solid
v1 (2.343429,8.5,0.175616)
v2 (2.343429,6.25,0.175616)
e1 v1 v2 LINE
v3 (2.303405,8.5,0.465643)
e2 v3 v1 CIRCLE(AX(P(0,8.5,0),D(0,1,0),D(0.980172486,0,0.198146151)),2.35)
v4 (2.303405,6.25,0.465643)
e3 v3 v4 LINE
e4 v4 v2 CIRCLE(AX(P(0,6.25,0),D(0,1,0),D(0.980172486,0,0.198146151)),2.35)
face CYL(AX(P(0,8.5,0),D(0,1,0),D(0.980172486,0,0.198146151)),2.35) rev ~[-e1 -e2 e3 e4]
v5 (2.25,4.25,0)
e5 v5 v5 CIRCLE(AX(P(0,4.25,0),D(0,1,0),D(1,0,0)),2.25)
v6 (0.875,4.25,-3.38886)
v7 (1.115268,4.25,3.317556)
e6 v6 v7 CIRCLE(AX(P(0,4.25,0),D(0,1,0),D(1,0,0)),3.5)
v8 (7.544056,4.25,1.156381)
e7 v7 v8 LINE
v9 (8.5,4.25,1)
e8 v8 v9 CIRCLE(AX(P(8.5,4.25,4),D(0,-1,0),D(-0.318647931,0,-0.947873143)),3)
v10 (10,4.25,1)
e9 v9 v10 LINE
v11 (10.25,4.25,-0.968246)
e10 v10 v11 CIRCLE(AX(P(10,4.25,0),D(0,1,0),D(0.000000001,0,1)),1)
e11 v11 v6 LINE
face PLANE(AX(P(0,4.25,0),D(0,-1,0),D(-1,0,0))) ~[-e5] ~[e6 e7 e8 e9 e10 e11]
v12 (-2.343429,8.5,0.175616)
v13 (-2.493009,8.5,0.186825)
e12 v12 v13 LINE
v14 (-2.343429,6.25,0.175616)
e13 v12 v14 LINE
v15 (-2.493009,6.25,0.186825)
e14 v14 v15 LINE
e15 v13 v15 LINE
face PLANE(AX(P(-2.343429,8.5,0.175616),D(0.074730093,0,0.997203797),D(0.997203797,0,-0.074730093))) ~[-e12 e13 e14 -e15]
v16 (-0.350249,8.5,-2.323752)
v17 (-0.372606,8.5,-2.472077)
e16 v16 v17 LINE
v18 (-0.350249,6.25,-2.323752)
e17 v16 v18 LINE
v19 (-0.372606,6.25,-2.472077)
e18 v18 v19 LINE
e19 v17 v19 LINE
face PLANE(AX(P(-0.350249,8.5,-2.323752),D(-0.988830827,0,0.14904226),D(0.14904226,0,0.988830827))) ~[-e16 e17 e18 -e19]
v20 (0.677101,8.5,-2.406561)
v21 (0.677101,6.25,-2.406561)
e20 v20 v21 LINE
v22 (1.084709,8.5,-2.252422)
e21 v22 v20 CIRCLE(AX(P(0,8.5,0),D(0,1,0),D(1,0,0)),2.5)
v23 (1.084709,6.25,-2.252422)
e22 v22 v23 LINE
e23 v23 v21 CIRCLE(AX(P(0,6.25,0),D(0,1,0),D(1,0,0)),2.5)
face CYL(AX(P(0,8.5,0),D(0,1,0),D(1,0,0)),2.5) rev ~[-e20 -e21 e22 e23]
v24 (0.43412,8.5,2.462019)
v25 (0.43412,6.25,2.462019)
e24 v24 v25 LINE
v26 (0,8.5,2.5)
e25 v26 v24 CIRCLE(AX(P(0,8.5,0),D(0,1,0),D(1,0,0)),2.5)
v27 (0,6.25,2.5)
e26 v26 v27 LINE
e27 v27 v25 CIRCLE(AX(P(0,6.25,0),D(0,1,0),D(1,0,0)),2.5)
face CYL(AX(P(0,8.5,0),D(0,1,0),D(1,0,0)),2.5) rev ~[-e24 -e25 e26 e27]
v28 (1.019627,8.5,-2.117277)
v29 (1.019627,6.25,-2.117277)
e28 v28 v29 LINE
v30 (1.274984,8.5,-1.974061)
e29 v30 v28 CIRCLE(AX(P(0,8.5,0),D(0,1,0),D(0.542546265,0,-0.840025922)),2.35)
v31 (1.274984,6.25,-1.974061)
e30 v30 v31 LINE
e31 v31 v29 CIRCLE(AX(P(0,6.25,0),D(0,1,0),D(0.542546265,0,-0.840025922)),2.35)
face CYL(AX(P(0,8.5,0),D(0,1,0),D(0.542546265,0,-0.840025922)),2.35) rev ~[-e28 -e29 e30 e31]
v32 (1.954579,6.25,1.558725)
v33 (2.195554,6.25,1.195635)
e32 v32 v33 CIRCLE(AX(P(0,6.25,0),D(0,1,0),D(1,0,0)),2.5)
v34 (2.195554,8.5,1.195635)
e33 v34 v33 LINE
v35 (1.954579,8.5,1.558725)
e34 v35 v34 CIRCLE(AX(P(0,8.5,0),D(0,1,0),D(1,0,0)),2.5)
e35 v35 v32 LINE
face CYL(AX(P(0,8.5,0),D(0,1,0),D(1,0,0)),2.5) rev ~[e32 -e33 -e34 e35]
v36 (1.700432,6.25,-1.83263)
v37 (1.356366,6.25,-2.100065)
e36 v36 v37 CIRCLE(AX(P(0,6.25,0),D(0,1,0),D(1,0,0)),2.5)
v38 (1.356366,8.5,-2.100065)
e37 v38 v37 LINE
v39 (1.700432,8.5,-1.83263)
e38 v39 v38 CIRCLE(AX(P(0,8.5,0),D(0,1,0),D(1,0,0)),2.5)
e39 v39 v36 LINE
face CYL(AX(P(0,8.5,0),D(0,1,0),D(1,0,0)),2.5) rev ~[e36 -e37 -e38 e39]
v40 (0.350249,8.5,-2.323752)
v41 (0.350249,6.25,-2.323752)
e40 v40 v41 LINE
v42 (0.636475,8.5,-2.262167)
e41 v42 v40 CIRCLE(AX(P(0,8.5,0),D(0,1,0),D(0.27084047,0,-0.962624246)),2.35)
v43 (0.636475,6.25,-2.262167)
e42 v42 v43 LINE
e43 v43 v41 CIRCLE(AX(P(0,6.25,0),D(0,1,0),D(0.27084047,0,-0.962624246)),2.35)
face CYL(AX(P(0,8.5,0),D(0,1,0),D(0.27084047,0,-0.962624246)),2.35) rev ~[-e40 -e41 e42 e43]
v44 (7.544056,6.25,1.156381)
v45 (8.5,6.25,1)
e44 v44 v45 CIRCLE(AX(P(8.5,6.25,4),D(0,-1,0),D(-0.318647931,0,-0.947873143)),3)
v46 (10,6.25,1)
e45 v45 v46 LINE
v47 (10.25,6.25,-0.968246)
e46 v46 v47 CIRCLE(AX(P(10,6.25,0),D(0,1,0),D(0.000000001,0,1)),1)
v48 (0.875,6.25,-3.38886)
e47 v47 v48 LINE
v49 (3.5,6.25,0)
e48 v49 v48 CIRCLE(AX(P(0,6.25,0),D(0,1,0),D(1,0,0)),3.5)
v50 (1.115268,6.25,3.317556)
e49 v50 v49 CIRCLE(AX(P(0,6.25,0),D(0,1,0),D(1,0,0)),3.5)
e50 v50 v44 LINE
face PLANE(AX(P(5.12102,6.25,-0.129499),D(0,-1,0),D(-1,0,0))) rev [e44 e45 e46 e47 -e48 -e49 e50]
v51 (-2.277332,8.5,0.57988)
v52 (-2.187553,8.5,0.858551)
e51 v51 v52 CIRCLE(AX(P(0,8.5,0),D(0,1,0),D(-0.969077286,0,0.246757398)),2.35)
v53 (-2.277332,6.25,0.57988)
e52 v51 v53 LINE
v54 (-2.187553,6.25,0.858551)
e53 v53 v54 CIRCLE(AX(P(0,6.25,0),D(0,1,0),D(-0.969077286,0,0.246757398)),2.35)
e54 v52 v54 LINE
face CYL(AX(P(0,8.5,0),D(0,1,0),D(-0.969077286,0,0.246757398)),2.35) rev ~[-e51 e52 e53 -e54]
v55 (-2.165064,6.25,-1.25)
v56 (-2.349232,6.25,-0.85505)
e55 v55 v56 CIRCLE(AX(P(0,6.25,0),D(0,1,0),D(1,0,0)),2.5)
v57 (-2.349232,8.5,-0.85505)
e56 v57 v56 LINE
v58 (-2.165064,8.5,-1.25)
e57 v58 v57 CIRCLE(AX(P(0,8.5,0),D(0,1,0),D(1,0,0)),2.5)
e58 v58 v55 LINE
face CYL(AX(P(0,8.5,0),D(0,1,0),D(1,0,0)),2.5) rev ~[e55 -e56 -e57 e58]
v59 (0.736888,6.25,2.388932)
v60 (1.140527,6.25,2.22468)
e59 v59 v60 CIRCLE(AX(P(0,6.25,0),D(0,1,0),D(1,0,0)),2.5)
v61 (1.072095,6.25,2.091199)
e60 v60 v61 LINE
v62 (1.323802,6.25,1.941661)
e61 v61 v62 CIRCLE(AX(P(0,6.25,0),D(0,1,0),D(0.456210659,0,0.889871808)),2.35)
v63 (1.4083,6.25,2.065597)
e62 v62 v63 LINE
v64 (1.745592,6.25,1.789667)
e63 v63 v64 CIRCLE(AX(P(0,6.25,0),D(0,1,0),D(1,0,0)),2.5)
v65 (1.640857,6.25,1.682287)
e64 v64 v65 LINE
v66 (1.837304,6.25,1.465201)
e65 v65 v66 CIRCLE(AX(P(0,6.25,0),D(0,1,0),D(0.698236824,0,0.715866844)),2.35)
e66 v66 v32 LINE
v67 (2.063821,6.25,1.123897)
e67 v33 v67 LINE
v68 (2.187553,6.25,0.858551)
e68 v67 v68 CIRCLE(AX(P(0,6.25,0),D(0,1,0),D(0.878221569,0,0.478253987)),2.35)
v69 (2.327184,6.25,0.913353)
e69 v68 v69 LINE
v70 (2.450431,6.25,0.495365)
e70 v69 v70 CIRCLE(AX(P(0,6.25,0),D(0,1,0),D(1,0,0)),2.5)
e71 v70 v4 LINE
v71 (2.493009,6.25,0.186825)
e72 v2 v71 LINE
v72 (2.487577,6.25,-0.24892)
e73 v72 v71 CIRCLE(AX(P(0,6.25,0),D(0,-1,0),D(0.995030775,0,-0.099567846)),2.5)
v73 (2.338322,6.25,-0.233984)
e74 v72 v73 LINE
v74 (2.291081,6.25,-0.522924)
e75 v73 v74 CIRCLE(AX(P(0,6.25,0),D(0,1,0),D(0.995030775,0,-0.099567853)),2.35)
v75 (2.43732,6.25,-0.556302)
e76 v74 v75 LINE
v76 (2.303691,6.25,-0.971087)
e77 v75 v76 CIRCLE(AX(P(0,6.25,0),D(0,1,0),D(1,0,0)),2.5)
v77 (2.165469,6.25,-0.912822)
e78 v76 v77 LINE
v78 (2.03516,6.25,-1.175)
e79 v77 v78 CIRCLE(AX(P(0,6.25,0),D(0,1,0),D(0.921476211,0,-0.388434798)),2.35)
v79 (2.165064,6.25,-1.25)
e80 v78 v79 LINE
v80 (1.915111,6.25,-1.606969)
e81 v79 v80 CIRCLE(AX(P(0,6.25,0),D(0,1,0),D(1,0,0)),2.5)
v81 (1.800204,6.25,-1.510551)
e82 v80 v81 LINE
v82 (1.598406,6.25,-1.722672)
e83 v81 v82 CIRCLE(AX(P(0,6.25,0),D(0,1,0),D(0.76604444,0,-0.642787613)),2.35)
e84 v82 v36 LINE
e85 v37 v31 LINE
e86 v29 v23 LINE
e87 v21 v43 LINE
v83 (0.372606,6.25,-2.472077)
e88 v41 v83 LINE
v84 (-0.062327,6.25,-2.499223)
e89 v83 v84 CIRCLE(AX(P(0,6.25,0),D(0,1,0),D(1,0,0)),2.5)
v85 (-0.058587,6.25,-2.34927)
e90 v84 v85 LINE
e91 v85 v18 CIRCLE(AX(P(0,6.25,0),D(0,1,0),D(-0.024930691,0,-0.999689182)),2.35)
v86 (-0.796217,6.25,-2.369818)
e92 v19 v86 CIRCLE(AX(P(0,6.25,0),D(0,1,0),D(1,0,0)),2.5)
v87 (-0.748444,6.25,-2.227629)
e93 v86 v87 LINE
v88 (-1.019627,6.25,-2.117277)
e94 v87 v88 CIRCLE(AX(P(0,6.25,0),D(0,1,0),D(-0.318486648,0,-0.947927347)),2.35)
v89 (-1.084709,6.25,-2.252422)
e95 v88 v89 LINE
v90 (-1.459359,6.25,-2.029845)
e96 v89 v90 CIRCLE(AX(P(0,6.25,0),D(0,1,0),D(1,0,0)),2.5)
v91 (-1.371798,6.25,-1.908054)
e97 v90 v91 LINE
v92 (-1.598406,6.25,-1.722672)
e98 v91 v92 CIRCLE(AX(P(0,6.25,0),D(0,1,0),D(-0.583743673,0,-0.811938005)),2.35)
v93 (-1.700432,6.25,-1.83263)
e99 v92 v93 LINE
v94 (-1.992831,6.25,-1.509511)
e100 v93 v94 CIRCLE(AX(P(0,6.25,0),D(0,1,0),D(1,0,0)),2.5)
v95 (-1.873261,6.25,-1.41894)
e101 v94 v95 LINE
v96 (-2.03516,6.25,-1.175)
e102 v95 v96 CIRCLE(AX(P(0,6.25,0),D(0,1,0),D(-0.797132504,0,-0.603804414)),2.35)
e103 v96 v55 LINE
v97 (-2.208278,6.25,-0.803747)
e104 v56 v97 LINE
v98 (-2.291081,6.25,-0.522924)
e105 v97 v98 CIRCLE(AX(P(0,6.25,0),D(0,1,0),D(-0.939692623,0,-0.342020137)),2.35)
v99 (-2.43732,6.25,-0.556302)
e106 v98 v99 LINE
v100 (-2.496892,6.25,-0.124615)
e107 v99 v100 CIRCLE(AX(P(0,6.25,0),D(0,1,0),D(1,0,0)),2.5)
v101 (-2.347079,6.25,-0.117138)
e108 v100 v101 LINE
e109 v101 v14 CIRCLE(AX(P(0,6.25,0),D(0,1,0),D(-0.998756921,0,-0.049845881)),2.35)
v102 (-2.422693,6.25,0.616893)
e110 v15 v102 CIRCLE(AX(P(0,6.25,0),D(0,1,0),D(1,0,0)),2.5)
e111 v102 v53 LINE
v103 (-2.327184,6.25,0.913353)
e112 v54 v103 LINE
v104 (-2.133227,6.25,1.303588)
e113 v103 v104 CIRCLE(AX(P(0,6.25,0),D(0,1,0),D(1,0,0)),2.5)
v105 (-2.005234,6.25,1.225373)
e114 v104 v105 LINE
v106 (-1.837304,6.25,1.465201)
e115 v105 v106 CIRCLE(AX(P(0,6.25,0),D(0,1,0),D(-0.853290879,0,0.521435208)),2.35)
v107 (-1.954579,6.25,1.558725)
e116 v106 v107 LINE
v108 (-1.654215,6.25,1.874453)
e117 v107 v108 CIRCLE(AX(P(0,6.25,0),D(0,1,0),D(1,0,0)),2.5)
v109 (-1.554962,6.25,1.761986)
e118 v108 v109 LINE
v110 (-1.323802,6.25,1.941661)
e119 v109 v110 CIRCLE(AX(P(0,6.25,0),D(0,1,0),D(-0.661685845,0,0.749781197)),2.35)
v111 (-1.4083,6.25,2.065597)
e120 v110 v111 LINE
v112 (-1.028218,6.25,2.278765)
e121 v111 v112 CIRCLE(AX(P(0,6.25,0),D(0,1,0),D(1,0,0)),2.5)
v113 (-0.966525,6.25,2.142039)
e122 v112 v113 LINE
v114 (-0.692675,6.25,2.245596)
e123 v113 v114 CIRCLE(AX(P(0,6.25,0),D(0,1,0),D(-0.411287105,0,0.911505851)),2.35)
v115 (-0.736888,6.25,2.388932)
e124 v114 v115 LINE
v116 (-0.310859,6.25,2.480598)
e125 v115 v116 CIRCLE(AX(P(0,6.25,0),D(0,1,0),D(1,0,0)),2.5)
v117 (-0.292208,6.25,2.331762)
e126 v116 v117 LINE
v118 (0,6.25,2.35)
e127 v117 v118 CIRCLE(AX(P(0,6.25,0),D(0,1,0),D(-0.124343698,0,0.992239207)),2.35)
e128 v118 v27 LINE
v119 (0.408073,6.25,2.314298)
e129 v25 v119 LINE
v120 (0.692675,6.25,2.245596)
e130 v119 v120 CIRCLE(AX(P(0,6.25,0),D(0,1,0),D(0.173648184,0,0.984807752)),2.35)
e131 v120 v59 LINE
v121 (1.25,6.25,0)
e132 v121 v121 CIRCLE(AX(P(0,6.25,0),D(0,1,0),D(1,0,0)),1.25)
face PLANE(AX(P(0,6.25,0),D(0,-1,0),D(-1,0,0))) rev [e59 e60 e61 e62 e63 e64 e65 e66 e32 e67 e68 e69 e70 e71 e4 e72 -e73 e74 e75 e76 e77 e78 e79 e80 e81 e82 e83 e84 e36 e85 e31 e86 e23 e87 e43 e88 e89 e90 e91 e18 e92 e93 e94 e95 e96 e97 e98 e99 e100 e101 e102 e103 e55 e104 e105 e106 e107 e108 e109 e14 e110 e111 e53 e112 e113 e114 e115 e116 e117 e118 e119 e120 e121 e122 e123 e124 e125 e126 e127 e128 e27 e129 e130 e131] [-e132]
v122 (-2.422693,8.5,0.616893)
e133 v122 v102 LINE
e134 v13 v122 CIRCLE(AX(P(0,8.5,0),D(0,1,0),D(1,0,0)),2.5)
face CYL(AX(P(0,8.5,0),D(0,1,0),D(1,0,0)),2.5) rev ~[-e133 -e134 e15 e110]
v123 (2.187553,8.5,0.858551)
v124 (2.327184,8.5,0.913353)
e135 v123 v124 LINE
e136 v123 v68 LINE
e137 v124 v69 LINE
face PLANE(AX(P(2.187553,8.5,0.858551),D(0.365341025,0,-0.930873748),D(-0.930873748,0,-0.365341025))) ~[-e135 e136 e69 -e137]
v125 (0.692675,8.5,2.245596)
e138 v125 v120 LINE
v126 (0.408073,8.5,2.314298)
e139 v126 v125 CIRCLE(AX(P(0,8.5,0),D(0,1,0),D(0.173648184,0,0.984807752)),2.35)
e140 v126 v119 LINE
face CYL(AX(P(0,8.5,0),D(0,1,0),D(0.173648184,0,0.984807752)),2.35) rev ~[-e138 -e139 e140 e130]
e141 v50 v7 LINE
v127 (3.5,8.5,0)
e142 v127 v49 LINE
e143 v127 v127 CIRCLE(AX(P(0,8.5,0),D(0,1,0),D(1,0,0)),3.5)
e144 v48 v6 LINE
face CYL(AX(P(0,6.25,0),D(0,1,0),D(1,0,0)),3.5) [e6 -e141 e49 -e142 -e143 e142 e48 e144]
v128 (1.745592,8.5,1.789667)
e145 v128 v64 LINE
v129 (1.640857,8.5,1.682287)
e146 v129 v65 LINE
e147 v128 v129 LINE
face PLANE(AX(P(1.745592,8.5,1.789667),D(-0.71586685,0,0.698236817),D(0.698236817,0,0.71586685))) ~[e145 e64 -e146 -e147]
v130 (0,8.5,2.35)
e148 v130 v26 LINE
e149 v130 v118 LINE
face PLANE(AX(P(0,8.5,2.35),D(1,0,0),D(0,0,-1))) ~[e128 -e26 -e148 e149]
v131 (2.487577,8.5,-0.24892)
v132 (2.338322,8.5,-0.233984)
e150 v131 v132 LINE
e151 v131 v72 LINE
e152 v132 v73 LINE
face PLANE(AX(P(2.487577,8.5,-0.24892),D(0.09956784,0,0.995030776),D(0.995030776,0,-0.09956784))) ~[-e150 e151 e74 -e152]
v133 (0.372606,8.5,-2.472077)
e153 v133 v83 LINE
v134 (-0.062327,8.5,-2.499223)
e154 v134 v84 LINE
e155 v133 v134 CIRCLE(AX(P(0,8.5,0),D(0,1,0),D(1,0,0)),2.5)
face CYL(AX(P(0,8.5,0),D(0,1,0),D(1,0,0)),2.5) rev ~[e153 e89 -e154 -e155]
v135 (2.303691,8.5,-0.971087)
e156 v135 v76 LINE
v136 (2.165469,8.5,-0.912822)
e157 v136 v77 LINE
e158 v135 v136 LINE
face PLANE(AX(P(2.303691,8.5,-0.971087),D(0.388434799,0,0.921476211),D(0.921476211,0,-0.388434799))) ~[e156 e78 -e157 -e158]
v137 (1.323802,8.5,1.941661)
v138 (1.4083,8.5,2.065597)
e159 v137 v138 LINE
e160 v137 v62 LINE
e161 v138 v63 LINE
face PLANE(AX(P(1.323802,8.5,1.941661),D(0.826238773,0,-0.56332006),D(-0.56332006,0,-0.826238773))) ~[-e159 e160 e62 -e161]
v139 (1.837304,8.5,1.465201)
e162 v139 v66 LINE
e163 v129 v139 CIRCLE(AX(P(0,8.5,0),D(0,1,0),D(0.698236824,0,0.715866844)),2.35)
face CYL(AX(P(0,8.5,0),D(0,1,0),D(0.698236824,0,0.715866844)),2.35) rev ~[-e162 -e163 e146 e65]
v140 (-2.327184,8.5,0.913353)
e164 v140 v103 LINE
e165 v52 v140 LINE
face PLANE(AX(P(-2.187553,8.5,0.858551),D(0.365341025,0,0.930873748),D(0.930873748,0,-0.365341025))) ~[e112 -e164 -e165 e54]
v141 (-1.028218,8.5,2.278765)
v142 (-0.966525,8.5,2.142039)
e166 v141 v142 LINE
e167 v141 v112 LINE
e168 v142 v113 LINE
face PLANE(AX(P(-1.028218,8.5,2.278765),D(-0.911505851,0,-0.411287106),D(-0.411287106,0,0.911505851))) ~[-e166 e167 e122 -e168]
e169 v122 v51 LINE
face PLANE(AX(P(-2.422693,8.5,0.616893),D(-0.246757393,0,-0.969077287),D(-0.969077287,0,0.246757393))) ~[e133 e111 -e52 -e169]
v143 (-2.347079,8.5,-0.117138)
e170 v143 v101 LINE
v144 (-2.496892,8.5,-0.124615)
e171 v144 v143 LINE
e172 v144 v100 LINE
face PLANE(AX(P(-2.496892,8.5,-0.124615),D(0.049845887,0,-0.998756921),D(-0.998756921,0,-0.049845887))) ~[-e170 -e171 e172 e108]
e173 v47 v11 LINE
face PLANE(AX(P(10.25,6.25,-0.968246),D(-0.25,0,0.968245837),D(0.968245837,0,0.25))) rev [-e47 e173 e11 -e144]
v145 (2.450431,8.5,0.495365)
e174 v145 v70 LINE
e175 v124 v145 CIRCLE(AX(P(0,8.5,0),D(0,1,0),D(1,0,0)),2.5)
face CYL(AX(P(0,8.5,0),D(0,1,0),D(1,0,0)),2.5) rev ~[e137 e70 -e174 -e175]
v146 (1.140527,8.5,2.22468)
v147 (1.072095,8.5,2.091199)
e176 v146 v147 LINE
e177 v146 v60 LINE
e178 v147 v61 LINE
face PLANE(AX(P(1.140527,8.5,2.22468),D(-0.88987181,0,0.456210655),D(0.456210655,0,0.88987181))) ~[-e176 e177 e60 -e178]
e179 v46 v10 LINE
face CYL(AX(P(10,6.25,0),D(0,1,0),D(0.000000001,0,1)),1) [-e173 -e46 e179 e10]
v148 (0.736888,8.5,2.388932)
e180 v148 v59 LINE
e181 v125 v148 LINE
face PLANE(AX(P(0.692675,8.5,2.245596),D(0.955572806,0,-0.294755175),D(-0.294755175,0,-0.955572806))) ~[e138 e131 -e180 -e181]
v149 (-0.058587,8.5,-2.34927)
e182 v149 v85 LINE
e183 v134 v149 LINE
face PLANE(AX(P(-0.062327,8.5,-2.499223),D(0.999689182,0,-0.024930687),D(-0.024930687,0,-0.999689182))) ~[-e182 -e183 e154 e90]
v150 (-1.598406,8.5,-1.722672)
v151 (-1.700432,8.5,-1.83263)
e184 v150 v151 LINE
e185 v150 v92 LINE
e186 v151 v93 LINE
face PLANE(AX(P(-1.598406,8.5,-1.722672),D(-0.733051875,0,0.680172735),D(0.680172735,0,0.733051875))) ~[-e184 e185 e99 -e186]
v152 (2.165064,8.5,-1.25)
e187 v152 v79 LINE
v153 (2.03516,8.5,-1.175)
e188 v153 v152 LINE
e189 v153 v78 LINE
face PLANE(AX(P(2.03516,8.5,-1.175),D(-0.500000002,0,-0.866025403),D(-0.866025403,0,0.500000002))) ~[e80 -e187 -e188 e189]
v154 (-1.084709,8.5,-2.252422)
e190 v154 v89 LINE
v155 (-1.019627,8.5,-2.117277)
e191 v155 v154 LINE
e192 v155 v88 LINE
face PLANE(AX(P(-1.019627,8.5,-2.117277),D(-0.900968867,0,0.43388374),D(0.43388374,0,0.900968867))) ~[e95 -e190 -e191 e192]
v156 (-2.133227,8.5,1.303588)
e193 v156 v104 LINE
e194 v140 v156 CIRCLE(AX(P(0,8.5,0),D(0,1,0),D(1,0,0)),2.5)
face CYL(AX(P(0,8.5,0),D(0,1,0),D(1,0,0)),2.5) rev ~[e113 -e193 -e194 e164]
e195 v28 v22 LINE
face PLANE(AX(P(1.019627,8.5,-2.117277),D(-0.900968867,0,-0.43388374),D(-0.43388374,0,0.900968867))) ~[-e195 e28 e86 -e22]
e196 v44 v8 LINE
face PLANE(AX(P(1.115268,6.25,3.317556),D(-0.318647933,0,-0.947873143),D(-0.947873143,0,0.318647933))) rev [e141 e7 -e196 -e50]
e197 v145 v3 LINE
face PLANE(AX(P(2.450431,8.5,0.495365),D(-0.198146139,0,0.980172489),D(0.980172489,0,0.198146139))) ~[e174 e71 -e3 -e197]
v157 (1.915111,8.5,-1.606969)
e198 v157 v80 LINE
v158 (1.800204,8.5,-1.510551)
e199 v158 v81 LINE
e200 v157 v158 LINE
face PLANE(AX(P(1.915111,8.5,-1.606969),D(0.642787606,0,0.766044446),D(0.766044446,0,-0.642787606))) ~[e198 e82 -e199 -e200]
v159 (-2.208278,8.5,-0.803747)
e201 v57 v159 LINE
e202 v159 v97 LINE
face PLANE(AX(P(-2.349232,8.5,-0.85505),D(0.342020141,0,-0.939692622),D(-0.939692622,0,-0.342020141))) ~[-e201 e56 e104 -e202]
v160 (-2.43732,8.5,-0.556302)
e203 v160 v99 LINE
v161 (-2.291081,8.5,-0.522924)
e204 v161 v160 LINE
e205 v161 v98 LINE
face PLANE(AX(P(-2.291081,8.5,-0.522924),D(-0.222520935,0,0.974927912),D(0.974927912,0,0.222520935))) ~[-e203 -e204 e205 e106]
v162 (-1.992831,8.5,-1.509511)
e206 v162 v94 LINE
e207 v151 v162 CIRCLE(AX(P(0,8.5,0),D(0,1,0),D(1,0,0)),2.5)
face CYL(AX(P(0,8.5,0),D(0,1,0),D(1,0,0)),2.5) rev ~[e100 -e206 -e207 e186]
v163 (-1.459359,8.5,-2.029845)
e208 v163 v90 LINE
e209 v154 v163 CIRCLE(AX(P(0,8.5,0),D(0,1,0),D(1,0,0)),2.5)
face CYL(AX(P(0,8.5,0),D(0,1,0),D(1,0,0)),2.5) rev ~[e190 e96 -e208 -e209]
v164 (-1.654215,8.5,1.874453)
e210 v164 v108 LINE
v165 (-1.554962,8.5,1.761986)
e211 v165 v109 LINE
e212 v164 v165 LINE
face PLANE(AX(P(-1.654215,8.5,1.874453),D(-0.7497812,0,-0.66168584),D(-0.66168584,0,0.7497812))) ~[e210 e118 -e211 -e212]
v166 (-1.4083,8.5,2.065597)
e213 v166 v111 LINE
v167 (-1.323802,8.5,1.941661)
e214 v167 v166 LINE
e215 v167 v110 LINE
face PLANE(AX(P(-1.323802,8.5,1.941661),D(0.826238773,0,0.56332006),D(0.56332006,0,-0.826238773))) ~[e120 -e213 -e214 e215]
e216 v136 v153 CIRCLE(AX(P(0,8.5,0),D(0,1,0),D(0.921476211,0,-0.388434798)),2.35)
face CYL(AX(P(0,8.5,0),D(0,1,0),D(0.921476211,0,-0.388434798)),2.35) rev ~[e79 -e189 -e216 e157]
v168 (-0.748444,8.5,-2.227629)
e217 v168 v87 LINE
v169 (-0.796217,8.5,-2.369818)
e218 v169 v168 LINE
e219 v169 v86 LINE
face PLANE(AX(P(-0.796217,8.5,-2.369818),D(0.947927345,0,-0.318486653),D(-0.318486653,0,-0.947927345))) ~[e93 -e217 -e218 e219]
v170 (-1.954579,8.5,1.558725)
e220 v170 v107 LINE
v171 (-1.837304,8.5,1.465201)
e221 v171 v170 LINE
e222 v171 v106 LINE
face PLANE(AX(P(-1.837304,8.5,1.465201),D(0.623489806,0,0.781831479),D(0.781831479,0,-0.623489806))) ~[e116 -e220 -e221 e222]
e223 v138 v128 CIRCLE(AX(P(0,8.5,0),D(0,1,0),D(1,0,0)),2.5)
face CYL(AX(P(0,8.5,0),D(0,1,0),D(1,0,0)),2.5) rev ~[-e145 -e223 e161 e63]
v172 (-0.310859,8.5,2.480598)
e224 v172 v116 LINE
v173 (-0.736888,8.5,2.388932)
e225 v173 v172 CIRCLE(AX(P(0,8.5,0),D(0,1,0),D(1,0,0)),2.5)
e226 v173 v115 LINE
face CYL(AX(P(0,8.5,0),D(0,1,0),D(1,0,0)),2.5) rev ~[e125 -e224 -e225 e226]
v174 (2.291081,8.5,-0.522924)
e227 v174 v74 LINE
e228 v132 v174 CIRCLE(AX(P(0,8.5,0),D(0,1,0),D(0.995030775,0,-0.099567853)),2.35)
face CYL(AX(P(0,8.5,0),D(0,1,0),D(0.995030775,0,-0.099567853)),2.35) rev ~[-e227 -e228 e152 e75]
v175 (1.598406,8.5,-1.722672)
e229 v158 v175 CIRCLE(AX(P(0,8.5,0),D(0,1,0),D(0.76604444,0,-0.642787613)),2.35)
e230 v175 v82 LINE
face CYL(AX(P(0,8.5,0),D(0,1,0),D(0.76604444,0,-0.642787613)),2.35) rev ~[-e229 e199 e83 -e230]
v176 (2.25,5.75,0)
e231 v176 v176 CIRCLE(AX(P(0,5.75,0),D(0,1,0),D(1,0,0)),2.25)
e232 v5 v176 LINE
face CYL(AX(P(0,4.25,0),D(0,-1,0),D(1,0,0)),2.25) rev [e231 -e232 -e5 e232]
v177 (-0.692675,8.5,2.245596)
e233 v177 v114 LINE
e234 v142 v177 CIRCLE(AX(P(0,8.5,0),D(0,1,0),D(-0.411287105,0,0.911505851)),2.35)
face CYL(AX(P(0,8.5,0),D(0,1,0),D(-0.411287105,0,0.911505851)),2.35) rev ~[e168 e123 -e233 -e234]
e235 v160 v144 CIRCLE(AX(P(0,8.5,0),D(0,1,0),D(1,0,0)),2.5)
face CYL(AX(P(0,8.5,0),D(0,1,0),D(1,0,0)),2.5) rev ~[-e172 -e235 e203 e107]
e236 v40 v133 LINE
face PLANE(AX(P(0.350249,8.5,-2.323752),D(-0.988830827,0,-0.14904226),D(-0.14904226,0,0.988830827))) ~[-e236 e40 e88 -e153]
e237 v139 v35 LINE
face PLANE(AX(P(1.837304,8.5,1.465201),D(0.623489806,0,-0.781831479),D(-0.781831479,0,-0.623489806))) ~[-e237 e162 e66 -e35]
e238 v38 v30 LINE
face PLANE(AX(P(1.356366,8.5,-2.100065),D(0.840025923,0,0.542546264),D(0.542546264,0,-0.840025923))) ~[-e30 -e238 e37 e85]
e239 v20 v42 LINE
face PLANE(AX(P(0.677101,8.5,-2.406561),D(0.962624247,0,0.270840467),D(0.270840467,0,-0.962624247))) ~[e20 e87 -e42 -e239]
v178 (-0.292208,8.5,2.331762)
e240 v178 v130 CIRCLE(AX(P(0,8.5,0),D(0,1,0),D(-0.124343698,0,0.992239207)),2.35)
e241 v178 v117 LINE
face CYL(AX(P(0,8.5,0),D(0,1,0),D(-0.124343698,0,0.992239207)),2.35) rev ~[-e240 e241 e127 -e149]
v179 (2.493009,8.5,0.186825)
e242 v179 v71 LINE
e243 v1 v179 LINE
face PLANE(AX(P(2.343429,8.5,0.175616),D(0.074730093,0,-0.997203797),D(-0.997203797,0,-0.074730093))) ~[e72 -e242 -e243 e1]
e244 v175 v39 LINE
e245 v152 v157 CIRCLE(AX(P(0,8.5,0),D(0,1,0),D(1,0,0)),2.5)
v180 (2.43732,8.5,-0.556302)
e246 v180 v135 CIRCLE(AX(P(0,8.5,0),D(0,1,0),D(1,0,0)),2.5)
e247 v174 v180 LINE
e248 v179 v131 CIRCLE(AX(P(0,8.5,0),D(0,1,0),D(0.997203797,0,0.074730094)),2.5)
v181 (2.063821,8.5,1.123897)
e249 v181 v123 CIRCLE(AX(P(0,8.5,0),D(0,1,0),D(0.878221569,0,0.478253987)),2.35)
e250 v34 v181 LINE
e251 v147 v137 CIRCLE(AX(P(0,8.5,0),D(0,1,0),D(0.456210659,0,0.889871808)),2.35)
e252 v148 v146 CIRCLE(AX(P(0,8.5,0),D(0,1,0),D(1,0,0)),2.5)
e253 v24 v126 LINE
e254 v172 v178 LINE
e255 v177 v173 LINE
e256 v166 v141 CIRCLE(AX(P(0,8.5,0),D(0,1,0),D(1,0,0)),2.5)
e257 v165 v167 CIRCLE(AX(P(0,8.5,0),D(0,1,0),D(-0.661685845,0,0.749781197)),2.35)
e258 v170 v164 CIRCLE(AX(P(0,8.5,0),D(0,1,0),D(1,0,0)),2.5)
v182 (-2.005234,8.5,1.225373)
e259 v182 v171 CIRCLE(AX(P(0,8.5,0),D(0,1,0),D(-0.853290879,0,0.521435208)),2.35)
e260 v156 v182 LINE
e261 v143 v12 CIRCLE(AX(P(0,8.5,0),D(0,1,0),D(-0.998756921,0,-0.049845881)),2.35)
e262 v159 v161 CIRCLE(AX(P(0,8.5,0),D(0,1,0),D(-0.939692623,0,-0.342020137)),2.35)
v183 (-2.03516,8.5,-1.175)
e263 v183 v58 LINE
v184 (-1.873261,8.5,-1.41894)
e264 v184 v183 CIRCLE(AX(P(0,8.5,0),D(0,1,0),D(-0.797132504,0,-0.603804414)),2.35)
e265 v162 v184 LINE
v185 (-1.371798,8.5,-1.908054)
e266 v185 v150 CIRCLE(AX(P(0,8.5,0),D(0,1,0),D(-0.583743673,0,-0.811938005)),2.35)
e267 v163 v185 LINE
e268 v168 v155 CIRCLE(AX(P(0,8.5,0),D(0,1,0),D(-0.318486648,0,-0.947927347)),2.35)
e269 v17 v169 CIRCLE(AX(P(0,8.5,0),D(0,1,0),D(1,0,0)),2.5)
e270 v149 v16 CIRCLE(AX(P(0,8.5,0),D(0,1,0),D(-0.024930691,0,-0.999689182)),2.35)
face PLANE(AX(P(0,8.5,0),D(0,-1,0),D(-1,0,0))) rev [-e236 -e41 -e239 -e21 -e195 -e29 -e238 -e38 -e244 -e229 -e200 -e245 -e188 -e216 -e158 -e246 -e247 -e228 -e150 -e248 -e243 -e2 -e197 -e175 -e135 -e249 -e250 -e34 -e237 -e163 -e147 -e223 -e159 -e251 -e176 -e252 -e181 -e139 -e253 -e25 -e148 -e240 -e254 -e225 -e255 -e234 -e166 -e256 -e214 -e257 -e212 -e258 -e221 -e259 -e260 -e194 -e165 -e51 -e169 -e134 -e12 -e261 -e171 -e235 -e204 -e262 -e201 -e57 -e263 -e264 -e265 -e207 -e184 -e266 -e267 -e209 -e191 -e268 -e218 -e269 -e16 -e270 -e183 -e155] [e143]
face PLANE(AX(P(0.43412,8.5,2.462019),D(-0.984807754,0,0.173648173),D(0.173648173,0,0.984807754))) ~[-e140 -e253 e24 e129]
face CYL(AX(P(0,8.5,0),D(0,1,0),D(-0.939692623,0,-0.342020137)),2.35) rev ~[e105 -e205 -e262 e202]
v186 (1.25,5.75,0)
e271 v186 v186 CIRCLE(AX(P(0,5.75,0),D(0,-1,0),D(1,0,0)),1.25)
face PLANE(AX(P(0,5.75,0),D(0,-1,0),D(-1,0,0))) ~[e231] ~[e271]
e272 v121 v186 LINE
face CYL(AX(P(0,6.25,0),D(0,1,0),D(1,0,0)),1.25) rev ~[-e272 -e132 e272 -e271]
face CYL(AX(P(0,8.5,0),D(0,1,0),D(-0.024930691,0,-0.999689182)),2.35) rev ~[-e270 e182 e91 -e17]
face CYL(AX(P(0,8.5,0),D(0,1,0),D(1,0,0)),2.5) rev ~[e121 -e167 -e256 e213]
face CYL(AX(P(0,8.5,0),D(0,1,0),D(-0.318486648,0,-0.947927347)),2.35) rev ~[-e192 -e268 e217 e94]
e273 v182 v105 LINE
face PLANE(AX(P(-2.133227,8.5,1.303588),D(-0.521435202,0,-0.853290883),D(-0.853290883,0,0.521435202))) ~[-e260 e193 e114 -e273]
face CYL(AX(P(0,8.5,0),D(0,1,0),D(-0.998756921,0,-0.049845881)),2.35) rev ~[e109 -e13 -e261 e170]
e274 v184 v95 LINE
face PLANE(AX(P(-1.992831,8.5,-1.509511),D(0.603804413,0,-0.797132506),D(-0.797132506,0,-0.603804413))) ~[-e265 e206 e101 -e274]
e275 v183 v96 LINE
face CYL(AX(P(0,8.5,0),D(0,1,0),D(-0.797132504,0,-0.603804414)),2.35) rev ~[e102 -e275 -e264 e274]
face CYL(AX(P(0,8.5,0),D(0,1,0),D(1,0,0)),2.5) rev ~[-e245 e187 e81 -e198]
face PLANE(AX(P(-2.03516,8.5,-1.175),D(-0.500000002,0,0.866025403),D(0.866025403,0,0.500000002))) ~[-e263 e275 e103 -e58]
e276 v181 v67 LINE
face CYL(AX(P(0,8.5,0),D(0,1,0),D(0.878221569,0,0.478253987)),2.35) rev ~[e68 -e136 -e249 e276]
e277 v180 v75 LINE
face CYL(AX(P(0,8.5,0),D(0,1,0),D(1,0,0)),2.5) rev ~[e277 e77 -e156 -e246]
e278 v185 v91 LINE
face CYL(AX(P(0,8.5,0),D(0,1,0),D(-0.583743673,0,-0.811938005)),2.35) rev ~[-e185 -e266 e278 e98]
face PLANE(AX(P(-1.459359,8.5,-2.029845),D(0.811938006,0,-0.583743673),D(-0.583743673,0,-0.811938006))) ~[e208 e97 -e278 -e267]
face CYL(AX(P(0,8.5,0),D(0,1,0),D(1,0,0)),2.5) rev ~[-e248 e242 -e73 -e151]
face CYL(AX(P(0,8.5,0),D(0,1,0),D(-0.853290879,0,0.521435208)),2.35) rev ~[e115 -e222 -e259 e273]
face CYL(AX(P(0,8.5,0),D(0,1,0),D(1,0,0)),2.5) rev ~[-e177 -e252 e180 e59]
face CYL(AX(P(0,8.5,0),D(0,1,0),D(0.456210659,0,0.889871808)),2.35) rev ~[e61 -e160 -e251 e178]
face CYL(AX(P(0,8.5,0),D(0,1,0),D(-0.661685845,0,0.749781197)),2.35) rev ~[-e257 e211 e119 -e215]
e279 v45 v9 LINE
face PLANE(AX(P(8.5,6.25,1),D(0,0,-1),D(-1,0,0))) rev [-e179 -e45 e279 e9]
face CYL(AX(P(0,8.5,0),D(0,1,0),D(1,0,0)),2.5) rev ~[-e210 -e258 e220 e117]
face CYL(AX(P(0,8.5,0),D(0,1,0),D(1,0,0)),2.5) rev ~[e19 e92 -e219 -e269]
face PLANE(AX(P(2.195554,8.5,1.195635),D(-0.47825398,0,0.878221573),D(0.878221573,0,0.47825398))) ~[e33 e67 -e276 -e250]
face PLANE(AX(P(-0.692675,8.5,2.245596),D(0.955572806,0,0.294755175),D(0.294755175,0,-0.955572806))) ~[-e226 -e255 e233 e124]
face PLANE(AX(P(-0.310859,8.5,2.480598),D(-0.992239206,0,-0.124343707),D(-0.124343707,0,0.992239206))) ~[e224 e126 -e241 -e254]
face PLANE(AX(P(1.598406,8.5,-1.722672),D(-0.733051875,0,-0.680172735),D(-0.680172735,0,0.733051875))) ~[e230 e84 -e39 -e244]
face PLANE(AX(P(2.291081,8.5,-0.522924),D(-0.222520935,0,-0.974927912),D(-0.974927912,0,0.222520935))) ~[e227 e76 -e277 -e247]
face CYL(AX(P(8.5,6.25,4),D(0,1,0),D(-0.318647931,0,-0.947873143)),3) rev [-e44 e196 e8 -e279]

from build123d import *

# Parameters (mm, degrees)
SKETCH1_R           = 3.5
SKETCH1_R_2         = 2.5
BOSS_EXTRUDE1_DEPTH = 2.25
BOSS_EXTRUDE4_DEPTH = 2.25
BOSS_EXTRUDE2_START = 2.25
BOSS_EXTRUDE2_DEPTH = 2
SKETCH3_R           = 3.5
SKETCH3_R_2         = 1.25
BOSS_EXTRUDE3_DEPTH = 2
SKETCH4_R           = 2.25
CUT_EXTRUDE1_DEPTH  = 1.5


with BuildPart() as part:
    # Sketch1 → Boss-Extrude1 (new body)
    with BuildSketch(Plane(origin=(0, 0, 0), x_dir=(1, 0, 0), z_dir=(0, 1, 0))):
        Circle(SKETCH1_R)
        Circle(SKETCH1_R_2, mode=Mode.SUBTRACT)
    extrude(amount=BOSS_EXTRUDE1_DEPTH)

    # Sketch6 → Boss-Extrude4 (add)
    with BuildSketch(Plane.XZ):
        with BuildLine():
            Line((0.434120444, 2.462019383), (0.408073218, 2.31429822))
            ThreePointArc((0.408073218, 2.31429822), (0.551444891, 2.284383622), (0.69267466, 2.245596094))
            Line((0.69267466, 2.245596094), (0.736887936, 2.388932014))
            ThreePointArc((0.736887936, 2.388932014), (0.586643501, 2.430195342), (0.434120444, 2.462019383))
        make_face()
        with BuildLine():
            Line((1.140526643, 2.224679522), (1.072095045, 2.091198751))
            ThreePointArc((1.072095045, 2.091198751), (1.200279635, 2.020353632), (1.323802136, 1.94166112))
            Line((1.323802136, 1.94166112), (1.408300145, 2.065596936))
            ThreePointArc((1.408300145, 2.065596936), (1.276893228, 2.149312375), (1.140526643, 2.224679522))
        make_face()
        with BuildLine():
            Line((1.745592045, 1.789667123), (1.640856523, 1.682287096))
            ThreePointArc((1.640856523, 1.682287096), (1.742464265, 1.576806356), (1.837303984, 1.465201034))
            Line((1.837303984, 1.465201034), (1.954578706, 1.558724505))
            ThreePointArc((1.954578706, 1.558724505), (1.853685389, 1.67745357), (1.745592045, 1.789667123))
        make_face()
        with BuildLine():
            Line((2.195553933, 1.195634947), (2.063820697, 1.12389685))
            ThreePointArc((2.063820697, 1.12389685), (2.1298233, 0.993152915), (2.187553309, 0.858551407))
            Line((2.187553309, 0.858551407), (2.327184372, 0.913352561))
            ThreePointArc((2.327184372, 0.913352561), (2.265769468, 1.056545654), (2.195553933, 1.195634947))
        make_face()
        with BuildLine():
            Line((2.45043122, 0.495365358), (2.303405346, 0.465643437))
            ThreePointArc((2.303405346, 0.465643437), (2.327938187, 0.32125348), (2.343428923, 0.17561572))
            Line((2.343428923, 0.17561572), (2.493009493, 0.186825234))
            ThreePointArc((2.493009493, 0.186825234), (2.476529986, 0.341759021), (2.45043122, 0.495365358))
        make_face()
        with BuildLine():
            Line((2.487576938, -0.248919616), (2.338322322, -0.23398444))
            ThreePointArc((2.338322322, -0.23398444), (2.31920555, -0.379190737), (2.291080594, -0.522924195))
            Line((2.291080594, -0.522924195), (2.43731978, -0.556302335))
            ThreePointArc((2.43731978, -0.556302335), (2.467239947, -0.403394402), (2.487576938, -0.248919616))
        make_face()
        with BuildLine():
            Line((2.30369053, -0.971086991), (2.165469098, -0.912821771))
            ThreePointArc((2.165469098, -0.912821771), (2.104401323, -1.045942193), (2.035159699, -1.175))
            Line((2.035159699, -1.175), (2.165063509, -1.25))
            ThreePointArc((2.165063509, -1.25), (2.238724812, -1.112704461), (2.30369053, -0.971086991))
        make_face()
        with BuildLine():
            Line((1.915111108, -1.606969024), (1.800204441, -1.510550883))
            ThreePointArc((1.800204441, -1.510550883), (1.702611803, -1.619757095), (1.598405934, -1.722671899))
            Line((1.598405934, -1.722671899), (1.700431844, -1.83262968))
            ThreePointArc((1.700431844, -1.83262968), (1.811289152, -1.723145846), (1.915111108, -1.606969024))
        make_face()
        with BuildLine():
            Line((1.35636566, -2.100064808), (1.27498372, -1.974060919))
            ThreePointArc((1.27498372, -1.974060919), (1.149537753, -2.049649471), (1.019626787, -2.11727684))
            Line((1.019626787, -2.11727684), (1.084709348, -2.25242217))
            ThreePointArc((1.084709348, -2.25242217), (1.222912503, -2.180478161), (1.35636566, -2.100064808))
        make_face()
        with BuildLine():
            Line((0.67710117, -2.406560617), (0.6364751, -2.26216698))
            ThreePointArc((0.6364751, -2.26216698), (0.494322228, -2.297421497), (0.350249326, -2.323752442))
            Line((0.350249326, -2.323752442), (0.372605665, -2.472077066))
            ThreePointArc((0.372605665, -2.472077066), (0.525874711, -2.444065422), (0.67710117, -2.406560617))
        make_face()
        with BuildLine():
            Line((-0.062326729, -2.499222955), (-0.058587126, -2.349269578))
            ThreePointArc((-0.058587126, -2.349269578), (-0.204815995, -2.341057541), (-0.350249326, -2.323752442))
            Line((-0.350249326, -2.323752442), (-0.372605665, -2.472077066))
            ThreePointArc((-0.372605665, -2.472077066), (-0.217889357, -2.490486745), (-0.062326729, -2.499222955))
        make_face()
        with BuildLine():
            Line((-0.796216626, -2.369818365), (-0.748443628, -2.227629263))
            ThreePointArc((-0.748443628, -2.227629263), (-0.885755419, -2.176680348), (-1.019626787, -2.11727684))
            Line((-1.019626787, -2.11727684), (-1.084709348, -2.25242217))
            ThreePointArc((-1.084709348, -2.25242217), (-0.942292999, -2.315617392), (-0.796216626, -2.369818365))
        make_face()
        with BuildLine():
            Line((-1.459359181, -2.029845014), (-1.37179763, -1.908054313))
            ThreePointArc((-1.37179763, -1.908054313), (-1.487991587, -1.818895554), (-1.598405934, -1.722671899))
            Line((-1.598405934, -1.722671899), (-1.700431844, -1.83262968))
            ThreePointArc((-1.700431844, -1.83262968), (-1.582969773, -1.934995271), (-1.459359181, -2.029845014))
        make_face()
        with BuildLine():
            Line((-1.992831268, -1.509511026), (-1.873261392, -1.418940364))
            ThreePointArc((-1.873261392, -1.418940364), (-1.958013172, -1.299493909), (-2.035159699, -1.175))
            Line((-2.035159699, -1.175), (-2.165063509, -1.25))
            ThreePointArc((-2.165063509, -1.25), (-2.082992736, -1.382440328), (-1.992831268, -1.509511026))
        make_face()
        with BuildLine():
            Line((-2.349231552, -0.855050358), (-2.208277659, -0.803747337))
            ThreePointArc((-2.208277659, -0.803747337), (-2.254056694, -0.664626526), (-2.291080594, -0.522924195))
            Line((-2.291080594, -0.522924195), (-2.43731978, -0.556302335))
            ThreePointArc((-2.43731978, -0.556302335), (-2.397932653, -0.707049496), (-2.349231552, -0.855050358))
        make_face()
        with BuildLine():
            Line((-2.496892303, -0.124614714), (-2.347078765, -0.117137831))
            ThreePointArc((-2.347078765, -0.117137831), (-2.349817387, 0.029295839), (-2.343428923, 0.17561572))
            Line((-2.343428923, 0.17561572), (-2.493009493, 0.186825234))
            ThreePointArc((-2.493009493, 0.186825234), (-2.499805731, 0.031165786), (-2.496892303, -0.124614714))
        make_face()
        with BuildLine():
            Line((-2.422693216, 0.616893494), (-2.277331623, 0.579879885))
            ThreePointArc((-2.277331623, 0.579879885), (-2.236786494, 0.720615141), (-2.187553309, 0.858551407))
            Line((-2.187553309, 0.858551407), (-2.327184372, 0.913352561))
            ThreePointArc((-2.327184372, 0.913352561), (-2.3795601, 0.766611852), (-2.422693216, 0.616893494))
        make_face()
        with BuildLine():
            Line((-2.133227204, 1.303588008), (-2.005233572, 1.225372728))
            ThreePointArc((-2.005233572, 1.225372728), (-1.925007304, 1.347904625), (-1.837303984, 1.465201034))
            Line((-1.837303984, 1.465201034), (-1.954578706, 1.558724505))
            ThreePointArc((-1.954578706, 1.558724505), (-2.047880111, 1.433941091), (-2.133227204, 1.303588008))
        make_face()
        with BuildLine():
            Line((-1.654214594, 1.874453007), (-1.554961718, 1.761985827))
            ThreePointArc((-1.554961718, 1.761985827), (-1.442182768, 1.855426869), (-1.323802136, 1.94166112))
            Line((-1.323802136, 1.94166112), (-1.408300145, 2.065596936))
            ThreePointArc((-1.408300145, 2.065596936), (-1.534236987, 1.973858371), (-1.654214594, 1.874453007))
        make_face()
        with BuildLine():
            Line((-1.028217758, 2.278764631), (-0.966524692, 2.142038753))
            ThreePointArc((-0.966524692, 2.142038753), (-0.831213964, 2.198086292), (-0.69267466, 2.245596094))
            Line((-0.69267466, 2.245596094), (-0.736887936, 2.388932014))
            ThreePointArc((-0.736887936, 2.388932014), (-0.884270174, 2.338389672), (-1.028217758, 2.278764631))
        make_face()
        with BuildLine():
            Line((-0.310859262, 2.480598017), (-0.292207706, 2.331762136))
            ThreePointArc((-0.292207706, 2.331762136), (-0.146388151, 2.345436102), (0, 2.35))
            Line((0, 2.35), (0, 2.5))
            ThreePointArc((0, 2.5), (-0.155732076, 2.49514479), (-0.310859262, 2.480598017))
        make_face()
    extrude(amount=-BOSS_EXTRUDE4_DEPTH)



with BuildPart() as body_2:
    # Sketch2 → Boss-Extrude2 (new body)
    with BuildSketch(Plane(origin=(0, 0, 0), x_dir=(1, 0, 0), z_dir=(0, 1, 0)).offset(BOSS_EXTRUDE2_START)):
        with BuildLine():
            Line((10.25, 0.968245837), (0.875, 3.388860428))
            ThreePointArc((0.875, 3.388860428), (3.497755962, 0.12531253), (1.115267765, -3.317556))
            Line((1.115267765, -3.317556), (7.544056202, -1.156380571))
            ThreePointArc((7.544056202, -1.156380571), (8.015674844, -1.039353256), (8.5, -1))
            Line((8.5, -1), (10, -1))
            ThreePointArc((10, -1), (10.992029696, -0.126004292), (10.25, 0.968245837))
        make_face()
    extrude(amount=BOSS_EXTRUDE2_DEPTH)


with BuildPart() as part_1:
    add(part.part)

    add(body_2.part)  # Boss-Extrude3 merges body 2
    # Sketch3 → Boss-Extrude3 (add)
    with BuildSketch(Plane(origin=(0, 2.25, 0), x_dir=(1, 0, 0), z_dir=(0, 1, 0))):
        Circle(SKETCH3_R)
        Circle(SKETCH3_R_2, mode=Mode.SUBTRACT)
    extrude(amount=BOSS_EXTRUDE3_DEPTH)

    # Sketch4 → Cut-Extrude1 (cut)
    with BuildSketch(Plane(origin=(0, 4.25, 0), x_dir=(1, 0, 0), z_dir=(0, 1, 0))):
        Circle(SKETCH4_R)
    extrude(amount=-CUT_EXTRUDE1_DEPTH, mode=Mode.SUBTRACT)


with BuildPart() as body_2_2:
    # Mirror1: mirrored copy
    add(part_1.part.mirror(Plane(origin=(3.303845643, 4.25, -0.0910361), x_dir=(0, 0, 1), z_dir=(0, 1, 0))))


solid = body_2_2.part
